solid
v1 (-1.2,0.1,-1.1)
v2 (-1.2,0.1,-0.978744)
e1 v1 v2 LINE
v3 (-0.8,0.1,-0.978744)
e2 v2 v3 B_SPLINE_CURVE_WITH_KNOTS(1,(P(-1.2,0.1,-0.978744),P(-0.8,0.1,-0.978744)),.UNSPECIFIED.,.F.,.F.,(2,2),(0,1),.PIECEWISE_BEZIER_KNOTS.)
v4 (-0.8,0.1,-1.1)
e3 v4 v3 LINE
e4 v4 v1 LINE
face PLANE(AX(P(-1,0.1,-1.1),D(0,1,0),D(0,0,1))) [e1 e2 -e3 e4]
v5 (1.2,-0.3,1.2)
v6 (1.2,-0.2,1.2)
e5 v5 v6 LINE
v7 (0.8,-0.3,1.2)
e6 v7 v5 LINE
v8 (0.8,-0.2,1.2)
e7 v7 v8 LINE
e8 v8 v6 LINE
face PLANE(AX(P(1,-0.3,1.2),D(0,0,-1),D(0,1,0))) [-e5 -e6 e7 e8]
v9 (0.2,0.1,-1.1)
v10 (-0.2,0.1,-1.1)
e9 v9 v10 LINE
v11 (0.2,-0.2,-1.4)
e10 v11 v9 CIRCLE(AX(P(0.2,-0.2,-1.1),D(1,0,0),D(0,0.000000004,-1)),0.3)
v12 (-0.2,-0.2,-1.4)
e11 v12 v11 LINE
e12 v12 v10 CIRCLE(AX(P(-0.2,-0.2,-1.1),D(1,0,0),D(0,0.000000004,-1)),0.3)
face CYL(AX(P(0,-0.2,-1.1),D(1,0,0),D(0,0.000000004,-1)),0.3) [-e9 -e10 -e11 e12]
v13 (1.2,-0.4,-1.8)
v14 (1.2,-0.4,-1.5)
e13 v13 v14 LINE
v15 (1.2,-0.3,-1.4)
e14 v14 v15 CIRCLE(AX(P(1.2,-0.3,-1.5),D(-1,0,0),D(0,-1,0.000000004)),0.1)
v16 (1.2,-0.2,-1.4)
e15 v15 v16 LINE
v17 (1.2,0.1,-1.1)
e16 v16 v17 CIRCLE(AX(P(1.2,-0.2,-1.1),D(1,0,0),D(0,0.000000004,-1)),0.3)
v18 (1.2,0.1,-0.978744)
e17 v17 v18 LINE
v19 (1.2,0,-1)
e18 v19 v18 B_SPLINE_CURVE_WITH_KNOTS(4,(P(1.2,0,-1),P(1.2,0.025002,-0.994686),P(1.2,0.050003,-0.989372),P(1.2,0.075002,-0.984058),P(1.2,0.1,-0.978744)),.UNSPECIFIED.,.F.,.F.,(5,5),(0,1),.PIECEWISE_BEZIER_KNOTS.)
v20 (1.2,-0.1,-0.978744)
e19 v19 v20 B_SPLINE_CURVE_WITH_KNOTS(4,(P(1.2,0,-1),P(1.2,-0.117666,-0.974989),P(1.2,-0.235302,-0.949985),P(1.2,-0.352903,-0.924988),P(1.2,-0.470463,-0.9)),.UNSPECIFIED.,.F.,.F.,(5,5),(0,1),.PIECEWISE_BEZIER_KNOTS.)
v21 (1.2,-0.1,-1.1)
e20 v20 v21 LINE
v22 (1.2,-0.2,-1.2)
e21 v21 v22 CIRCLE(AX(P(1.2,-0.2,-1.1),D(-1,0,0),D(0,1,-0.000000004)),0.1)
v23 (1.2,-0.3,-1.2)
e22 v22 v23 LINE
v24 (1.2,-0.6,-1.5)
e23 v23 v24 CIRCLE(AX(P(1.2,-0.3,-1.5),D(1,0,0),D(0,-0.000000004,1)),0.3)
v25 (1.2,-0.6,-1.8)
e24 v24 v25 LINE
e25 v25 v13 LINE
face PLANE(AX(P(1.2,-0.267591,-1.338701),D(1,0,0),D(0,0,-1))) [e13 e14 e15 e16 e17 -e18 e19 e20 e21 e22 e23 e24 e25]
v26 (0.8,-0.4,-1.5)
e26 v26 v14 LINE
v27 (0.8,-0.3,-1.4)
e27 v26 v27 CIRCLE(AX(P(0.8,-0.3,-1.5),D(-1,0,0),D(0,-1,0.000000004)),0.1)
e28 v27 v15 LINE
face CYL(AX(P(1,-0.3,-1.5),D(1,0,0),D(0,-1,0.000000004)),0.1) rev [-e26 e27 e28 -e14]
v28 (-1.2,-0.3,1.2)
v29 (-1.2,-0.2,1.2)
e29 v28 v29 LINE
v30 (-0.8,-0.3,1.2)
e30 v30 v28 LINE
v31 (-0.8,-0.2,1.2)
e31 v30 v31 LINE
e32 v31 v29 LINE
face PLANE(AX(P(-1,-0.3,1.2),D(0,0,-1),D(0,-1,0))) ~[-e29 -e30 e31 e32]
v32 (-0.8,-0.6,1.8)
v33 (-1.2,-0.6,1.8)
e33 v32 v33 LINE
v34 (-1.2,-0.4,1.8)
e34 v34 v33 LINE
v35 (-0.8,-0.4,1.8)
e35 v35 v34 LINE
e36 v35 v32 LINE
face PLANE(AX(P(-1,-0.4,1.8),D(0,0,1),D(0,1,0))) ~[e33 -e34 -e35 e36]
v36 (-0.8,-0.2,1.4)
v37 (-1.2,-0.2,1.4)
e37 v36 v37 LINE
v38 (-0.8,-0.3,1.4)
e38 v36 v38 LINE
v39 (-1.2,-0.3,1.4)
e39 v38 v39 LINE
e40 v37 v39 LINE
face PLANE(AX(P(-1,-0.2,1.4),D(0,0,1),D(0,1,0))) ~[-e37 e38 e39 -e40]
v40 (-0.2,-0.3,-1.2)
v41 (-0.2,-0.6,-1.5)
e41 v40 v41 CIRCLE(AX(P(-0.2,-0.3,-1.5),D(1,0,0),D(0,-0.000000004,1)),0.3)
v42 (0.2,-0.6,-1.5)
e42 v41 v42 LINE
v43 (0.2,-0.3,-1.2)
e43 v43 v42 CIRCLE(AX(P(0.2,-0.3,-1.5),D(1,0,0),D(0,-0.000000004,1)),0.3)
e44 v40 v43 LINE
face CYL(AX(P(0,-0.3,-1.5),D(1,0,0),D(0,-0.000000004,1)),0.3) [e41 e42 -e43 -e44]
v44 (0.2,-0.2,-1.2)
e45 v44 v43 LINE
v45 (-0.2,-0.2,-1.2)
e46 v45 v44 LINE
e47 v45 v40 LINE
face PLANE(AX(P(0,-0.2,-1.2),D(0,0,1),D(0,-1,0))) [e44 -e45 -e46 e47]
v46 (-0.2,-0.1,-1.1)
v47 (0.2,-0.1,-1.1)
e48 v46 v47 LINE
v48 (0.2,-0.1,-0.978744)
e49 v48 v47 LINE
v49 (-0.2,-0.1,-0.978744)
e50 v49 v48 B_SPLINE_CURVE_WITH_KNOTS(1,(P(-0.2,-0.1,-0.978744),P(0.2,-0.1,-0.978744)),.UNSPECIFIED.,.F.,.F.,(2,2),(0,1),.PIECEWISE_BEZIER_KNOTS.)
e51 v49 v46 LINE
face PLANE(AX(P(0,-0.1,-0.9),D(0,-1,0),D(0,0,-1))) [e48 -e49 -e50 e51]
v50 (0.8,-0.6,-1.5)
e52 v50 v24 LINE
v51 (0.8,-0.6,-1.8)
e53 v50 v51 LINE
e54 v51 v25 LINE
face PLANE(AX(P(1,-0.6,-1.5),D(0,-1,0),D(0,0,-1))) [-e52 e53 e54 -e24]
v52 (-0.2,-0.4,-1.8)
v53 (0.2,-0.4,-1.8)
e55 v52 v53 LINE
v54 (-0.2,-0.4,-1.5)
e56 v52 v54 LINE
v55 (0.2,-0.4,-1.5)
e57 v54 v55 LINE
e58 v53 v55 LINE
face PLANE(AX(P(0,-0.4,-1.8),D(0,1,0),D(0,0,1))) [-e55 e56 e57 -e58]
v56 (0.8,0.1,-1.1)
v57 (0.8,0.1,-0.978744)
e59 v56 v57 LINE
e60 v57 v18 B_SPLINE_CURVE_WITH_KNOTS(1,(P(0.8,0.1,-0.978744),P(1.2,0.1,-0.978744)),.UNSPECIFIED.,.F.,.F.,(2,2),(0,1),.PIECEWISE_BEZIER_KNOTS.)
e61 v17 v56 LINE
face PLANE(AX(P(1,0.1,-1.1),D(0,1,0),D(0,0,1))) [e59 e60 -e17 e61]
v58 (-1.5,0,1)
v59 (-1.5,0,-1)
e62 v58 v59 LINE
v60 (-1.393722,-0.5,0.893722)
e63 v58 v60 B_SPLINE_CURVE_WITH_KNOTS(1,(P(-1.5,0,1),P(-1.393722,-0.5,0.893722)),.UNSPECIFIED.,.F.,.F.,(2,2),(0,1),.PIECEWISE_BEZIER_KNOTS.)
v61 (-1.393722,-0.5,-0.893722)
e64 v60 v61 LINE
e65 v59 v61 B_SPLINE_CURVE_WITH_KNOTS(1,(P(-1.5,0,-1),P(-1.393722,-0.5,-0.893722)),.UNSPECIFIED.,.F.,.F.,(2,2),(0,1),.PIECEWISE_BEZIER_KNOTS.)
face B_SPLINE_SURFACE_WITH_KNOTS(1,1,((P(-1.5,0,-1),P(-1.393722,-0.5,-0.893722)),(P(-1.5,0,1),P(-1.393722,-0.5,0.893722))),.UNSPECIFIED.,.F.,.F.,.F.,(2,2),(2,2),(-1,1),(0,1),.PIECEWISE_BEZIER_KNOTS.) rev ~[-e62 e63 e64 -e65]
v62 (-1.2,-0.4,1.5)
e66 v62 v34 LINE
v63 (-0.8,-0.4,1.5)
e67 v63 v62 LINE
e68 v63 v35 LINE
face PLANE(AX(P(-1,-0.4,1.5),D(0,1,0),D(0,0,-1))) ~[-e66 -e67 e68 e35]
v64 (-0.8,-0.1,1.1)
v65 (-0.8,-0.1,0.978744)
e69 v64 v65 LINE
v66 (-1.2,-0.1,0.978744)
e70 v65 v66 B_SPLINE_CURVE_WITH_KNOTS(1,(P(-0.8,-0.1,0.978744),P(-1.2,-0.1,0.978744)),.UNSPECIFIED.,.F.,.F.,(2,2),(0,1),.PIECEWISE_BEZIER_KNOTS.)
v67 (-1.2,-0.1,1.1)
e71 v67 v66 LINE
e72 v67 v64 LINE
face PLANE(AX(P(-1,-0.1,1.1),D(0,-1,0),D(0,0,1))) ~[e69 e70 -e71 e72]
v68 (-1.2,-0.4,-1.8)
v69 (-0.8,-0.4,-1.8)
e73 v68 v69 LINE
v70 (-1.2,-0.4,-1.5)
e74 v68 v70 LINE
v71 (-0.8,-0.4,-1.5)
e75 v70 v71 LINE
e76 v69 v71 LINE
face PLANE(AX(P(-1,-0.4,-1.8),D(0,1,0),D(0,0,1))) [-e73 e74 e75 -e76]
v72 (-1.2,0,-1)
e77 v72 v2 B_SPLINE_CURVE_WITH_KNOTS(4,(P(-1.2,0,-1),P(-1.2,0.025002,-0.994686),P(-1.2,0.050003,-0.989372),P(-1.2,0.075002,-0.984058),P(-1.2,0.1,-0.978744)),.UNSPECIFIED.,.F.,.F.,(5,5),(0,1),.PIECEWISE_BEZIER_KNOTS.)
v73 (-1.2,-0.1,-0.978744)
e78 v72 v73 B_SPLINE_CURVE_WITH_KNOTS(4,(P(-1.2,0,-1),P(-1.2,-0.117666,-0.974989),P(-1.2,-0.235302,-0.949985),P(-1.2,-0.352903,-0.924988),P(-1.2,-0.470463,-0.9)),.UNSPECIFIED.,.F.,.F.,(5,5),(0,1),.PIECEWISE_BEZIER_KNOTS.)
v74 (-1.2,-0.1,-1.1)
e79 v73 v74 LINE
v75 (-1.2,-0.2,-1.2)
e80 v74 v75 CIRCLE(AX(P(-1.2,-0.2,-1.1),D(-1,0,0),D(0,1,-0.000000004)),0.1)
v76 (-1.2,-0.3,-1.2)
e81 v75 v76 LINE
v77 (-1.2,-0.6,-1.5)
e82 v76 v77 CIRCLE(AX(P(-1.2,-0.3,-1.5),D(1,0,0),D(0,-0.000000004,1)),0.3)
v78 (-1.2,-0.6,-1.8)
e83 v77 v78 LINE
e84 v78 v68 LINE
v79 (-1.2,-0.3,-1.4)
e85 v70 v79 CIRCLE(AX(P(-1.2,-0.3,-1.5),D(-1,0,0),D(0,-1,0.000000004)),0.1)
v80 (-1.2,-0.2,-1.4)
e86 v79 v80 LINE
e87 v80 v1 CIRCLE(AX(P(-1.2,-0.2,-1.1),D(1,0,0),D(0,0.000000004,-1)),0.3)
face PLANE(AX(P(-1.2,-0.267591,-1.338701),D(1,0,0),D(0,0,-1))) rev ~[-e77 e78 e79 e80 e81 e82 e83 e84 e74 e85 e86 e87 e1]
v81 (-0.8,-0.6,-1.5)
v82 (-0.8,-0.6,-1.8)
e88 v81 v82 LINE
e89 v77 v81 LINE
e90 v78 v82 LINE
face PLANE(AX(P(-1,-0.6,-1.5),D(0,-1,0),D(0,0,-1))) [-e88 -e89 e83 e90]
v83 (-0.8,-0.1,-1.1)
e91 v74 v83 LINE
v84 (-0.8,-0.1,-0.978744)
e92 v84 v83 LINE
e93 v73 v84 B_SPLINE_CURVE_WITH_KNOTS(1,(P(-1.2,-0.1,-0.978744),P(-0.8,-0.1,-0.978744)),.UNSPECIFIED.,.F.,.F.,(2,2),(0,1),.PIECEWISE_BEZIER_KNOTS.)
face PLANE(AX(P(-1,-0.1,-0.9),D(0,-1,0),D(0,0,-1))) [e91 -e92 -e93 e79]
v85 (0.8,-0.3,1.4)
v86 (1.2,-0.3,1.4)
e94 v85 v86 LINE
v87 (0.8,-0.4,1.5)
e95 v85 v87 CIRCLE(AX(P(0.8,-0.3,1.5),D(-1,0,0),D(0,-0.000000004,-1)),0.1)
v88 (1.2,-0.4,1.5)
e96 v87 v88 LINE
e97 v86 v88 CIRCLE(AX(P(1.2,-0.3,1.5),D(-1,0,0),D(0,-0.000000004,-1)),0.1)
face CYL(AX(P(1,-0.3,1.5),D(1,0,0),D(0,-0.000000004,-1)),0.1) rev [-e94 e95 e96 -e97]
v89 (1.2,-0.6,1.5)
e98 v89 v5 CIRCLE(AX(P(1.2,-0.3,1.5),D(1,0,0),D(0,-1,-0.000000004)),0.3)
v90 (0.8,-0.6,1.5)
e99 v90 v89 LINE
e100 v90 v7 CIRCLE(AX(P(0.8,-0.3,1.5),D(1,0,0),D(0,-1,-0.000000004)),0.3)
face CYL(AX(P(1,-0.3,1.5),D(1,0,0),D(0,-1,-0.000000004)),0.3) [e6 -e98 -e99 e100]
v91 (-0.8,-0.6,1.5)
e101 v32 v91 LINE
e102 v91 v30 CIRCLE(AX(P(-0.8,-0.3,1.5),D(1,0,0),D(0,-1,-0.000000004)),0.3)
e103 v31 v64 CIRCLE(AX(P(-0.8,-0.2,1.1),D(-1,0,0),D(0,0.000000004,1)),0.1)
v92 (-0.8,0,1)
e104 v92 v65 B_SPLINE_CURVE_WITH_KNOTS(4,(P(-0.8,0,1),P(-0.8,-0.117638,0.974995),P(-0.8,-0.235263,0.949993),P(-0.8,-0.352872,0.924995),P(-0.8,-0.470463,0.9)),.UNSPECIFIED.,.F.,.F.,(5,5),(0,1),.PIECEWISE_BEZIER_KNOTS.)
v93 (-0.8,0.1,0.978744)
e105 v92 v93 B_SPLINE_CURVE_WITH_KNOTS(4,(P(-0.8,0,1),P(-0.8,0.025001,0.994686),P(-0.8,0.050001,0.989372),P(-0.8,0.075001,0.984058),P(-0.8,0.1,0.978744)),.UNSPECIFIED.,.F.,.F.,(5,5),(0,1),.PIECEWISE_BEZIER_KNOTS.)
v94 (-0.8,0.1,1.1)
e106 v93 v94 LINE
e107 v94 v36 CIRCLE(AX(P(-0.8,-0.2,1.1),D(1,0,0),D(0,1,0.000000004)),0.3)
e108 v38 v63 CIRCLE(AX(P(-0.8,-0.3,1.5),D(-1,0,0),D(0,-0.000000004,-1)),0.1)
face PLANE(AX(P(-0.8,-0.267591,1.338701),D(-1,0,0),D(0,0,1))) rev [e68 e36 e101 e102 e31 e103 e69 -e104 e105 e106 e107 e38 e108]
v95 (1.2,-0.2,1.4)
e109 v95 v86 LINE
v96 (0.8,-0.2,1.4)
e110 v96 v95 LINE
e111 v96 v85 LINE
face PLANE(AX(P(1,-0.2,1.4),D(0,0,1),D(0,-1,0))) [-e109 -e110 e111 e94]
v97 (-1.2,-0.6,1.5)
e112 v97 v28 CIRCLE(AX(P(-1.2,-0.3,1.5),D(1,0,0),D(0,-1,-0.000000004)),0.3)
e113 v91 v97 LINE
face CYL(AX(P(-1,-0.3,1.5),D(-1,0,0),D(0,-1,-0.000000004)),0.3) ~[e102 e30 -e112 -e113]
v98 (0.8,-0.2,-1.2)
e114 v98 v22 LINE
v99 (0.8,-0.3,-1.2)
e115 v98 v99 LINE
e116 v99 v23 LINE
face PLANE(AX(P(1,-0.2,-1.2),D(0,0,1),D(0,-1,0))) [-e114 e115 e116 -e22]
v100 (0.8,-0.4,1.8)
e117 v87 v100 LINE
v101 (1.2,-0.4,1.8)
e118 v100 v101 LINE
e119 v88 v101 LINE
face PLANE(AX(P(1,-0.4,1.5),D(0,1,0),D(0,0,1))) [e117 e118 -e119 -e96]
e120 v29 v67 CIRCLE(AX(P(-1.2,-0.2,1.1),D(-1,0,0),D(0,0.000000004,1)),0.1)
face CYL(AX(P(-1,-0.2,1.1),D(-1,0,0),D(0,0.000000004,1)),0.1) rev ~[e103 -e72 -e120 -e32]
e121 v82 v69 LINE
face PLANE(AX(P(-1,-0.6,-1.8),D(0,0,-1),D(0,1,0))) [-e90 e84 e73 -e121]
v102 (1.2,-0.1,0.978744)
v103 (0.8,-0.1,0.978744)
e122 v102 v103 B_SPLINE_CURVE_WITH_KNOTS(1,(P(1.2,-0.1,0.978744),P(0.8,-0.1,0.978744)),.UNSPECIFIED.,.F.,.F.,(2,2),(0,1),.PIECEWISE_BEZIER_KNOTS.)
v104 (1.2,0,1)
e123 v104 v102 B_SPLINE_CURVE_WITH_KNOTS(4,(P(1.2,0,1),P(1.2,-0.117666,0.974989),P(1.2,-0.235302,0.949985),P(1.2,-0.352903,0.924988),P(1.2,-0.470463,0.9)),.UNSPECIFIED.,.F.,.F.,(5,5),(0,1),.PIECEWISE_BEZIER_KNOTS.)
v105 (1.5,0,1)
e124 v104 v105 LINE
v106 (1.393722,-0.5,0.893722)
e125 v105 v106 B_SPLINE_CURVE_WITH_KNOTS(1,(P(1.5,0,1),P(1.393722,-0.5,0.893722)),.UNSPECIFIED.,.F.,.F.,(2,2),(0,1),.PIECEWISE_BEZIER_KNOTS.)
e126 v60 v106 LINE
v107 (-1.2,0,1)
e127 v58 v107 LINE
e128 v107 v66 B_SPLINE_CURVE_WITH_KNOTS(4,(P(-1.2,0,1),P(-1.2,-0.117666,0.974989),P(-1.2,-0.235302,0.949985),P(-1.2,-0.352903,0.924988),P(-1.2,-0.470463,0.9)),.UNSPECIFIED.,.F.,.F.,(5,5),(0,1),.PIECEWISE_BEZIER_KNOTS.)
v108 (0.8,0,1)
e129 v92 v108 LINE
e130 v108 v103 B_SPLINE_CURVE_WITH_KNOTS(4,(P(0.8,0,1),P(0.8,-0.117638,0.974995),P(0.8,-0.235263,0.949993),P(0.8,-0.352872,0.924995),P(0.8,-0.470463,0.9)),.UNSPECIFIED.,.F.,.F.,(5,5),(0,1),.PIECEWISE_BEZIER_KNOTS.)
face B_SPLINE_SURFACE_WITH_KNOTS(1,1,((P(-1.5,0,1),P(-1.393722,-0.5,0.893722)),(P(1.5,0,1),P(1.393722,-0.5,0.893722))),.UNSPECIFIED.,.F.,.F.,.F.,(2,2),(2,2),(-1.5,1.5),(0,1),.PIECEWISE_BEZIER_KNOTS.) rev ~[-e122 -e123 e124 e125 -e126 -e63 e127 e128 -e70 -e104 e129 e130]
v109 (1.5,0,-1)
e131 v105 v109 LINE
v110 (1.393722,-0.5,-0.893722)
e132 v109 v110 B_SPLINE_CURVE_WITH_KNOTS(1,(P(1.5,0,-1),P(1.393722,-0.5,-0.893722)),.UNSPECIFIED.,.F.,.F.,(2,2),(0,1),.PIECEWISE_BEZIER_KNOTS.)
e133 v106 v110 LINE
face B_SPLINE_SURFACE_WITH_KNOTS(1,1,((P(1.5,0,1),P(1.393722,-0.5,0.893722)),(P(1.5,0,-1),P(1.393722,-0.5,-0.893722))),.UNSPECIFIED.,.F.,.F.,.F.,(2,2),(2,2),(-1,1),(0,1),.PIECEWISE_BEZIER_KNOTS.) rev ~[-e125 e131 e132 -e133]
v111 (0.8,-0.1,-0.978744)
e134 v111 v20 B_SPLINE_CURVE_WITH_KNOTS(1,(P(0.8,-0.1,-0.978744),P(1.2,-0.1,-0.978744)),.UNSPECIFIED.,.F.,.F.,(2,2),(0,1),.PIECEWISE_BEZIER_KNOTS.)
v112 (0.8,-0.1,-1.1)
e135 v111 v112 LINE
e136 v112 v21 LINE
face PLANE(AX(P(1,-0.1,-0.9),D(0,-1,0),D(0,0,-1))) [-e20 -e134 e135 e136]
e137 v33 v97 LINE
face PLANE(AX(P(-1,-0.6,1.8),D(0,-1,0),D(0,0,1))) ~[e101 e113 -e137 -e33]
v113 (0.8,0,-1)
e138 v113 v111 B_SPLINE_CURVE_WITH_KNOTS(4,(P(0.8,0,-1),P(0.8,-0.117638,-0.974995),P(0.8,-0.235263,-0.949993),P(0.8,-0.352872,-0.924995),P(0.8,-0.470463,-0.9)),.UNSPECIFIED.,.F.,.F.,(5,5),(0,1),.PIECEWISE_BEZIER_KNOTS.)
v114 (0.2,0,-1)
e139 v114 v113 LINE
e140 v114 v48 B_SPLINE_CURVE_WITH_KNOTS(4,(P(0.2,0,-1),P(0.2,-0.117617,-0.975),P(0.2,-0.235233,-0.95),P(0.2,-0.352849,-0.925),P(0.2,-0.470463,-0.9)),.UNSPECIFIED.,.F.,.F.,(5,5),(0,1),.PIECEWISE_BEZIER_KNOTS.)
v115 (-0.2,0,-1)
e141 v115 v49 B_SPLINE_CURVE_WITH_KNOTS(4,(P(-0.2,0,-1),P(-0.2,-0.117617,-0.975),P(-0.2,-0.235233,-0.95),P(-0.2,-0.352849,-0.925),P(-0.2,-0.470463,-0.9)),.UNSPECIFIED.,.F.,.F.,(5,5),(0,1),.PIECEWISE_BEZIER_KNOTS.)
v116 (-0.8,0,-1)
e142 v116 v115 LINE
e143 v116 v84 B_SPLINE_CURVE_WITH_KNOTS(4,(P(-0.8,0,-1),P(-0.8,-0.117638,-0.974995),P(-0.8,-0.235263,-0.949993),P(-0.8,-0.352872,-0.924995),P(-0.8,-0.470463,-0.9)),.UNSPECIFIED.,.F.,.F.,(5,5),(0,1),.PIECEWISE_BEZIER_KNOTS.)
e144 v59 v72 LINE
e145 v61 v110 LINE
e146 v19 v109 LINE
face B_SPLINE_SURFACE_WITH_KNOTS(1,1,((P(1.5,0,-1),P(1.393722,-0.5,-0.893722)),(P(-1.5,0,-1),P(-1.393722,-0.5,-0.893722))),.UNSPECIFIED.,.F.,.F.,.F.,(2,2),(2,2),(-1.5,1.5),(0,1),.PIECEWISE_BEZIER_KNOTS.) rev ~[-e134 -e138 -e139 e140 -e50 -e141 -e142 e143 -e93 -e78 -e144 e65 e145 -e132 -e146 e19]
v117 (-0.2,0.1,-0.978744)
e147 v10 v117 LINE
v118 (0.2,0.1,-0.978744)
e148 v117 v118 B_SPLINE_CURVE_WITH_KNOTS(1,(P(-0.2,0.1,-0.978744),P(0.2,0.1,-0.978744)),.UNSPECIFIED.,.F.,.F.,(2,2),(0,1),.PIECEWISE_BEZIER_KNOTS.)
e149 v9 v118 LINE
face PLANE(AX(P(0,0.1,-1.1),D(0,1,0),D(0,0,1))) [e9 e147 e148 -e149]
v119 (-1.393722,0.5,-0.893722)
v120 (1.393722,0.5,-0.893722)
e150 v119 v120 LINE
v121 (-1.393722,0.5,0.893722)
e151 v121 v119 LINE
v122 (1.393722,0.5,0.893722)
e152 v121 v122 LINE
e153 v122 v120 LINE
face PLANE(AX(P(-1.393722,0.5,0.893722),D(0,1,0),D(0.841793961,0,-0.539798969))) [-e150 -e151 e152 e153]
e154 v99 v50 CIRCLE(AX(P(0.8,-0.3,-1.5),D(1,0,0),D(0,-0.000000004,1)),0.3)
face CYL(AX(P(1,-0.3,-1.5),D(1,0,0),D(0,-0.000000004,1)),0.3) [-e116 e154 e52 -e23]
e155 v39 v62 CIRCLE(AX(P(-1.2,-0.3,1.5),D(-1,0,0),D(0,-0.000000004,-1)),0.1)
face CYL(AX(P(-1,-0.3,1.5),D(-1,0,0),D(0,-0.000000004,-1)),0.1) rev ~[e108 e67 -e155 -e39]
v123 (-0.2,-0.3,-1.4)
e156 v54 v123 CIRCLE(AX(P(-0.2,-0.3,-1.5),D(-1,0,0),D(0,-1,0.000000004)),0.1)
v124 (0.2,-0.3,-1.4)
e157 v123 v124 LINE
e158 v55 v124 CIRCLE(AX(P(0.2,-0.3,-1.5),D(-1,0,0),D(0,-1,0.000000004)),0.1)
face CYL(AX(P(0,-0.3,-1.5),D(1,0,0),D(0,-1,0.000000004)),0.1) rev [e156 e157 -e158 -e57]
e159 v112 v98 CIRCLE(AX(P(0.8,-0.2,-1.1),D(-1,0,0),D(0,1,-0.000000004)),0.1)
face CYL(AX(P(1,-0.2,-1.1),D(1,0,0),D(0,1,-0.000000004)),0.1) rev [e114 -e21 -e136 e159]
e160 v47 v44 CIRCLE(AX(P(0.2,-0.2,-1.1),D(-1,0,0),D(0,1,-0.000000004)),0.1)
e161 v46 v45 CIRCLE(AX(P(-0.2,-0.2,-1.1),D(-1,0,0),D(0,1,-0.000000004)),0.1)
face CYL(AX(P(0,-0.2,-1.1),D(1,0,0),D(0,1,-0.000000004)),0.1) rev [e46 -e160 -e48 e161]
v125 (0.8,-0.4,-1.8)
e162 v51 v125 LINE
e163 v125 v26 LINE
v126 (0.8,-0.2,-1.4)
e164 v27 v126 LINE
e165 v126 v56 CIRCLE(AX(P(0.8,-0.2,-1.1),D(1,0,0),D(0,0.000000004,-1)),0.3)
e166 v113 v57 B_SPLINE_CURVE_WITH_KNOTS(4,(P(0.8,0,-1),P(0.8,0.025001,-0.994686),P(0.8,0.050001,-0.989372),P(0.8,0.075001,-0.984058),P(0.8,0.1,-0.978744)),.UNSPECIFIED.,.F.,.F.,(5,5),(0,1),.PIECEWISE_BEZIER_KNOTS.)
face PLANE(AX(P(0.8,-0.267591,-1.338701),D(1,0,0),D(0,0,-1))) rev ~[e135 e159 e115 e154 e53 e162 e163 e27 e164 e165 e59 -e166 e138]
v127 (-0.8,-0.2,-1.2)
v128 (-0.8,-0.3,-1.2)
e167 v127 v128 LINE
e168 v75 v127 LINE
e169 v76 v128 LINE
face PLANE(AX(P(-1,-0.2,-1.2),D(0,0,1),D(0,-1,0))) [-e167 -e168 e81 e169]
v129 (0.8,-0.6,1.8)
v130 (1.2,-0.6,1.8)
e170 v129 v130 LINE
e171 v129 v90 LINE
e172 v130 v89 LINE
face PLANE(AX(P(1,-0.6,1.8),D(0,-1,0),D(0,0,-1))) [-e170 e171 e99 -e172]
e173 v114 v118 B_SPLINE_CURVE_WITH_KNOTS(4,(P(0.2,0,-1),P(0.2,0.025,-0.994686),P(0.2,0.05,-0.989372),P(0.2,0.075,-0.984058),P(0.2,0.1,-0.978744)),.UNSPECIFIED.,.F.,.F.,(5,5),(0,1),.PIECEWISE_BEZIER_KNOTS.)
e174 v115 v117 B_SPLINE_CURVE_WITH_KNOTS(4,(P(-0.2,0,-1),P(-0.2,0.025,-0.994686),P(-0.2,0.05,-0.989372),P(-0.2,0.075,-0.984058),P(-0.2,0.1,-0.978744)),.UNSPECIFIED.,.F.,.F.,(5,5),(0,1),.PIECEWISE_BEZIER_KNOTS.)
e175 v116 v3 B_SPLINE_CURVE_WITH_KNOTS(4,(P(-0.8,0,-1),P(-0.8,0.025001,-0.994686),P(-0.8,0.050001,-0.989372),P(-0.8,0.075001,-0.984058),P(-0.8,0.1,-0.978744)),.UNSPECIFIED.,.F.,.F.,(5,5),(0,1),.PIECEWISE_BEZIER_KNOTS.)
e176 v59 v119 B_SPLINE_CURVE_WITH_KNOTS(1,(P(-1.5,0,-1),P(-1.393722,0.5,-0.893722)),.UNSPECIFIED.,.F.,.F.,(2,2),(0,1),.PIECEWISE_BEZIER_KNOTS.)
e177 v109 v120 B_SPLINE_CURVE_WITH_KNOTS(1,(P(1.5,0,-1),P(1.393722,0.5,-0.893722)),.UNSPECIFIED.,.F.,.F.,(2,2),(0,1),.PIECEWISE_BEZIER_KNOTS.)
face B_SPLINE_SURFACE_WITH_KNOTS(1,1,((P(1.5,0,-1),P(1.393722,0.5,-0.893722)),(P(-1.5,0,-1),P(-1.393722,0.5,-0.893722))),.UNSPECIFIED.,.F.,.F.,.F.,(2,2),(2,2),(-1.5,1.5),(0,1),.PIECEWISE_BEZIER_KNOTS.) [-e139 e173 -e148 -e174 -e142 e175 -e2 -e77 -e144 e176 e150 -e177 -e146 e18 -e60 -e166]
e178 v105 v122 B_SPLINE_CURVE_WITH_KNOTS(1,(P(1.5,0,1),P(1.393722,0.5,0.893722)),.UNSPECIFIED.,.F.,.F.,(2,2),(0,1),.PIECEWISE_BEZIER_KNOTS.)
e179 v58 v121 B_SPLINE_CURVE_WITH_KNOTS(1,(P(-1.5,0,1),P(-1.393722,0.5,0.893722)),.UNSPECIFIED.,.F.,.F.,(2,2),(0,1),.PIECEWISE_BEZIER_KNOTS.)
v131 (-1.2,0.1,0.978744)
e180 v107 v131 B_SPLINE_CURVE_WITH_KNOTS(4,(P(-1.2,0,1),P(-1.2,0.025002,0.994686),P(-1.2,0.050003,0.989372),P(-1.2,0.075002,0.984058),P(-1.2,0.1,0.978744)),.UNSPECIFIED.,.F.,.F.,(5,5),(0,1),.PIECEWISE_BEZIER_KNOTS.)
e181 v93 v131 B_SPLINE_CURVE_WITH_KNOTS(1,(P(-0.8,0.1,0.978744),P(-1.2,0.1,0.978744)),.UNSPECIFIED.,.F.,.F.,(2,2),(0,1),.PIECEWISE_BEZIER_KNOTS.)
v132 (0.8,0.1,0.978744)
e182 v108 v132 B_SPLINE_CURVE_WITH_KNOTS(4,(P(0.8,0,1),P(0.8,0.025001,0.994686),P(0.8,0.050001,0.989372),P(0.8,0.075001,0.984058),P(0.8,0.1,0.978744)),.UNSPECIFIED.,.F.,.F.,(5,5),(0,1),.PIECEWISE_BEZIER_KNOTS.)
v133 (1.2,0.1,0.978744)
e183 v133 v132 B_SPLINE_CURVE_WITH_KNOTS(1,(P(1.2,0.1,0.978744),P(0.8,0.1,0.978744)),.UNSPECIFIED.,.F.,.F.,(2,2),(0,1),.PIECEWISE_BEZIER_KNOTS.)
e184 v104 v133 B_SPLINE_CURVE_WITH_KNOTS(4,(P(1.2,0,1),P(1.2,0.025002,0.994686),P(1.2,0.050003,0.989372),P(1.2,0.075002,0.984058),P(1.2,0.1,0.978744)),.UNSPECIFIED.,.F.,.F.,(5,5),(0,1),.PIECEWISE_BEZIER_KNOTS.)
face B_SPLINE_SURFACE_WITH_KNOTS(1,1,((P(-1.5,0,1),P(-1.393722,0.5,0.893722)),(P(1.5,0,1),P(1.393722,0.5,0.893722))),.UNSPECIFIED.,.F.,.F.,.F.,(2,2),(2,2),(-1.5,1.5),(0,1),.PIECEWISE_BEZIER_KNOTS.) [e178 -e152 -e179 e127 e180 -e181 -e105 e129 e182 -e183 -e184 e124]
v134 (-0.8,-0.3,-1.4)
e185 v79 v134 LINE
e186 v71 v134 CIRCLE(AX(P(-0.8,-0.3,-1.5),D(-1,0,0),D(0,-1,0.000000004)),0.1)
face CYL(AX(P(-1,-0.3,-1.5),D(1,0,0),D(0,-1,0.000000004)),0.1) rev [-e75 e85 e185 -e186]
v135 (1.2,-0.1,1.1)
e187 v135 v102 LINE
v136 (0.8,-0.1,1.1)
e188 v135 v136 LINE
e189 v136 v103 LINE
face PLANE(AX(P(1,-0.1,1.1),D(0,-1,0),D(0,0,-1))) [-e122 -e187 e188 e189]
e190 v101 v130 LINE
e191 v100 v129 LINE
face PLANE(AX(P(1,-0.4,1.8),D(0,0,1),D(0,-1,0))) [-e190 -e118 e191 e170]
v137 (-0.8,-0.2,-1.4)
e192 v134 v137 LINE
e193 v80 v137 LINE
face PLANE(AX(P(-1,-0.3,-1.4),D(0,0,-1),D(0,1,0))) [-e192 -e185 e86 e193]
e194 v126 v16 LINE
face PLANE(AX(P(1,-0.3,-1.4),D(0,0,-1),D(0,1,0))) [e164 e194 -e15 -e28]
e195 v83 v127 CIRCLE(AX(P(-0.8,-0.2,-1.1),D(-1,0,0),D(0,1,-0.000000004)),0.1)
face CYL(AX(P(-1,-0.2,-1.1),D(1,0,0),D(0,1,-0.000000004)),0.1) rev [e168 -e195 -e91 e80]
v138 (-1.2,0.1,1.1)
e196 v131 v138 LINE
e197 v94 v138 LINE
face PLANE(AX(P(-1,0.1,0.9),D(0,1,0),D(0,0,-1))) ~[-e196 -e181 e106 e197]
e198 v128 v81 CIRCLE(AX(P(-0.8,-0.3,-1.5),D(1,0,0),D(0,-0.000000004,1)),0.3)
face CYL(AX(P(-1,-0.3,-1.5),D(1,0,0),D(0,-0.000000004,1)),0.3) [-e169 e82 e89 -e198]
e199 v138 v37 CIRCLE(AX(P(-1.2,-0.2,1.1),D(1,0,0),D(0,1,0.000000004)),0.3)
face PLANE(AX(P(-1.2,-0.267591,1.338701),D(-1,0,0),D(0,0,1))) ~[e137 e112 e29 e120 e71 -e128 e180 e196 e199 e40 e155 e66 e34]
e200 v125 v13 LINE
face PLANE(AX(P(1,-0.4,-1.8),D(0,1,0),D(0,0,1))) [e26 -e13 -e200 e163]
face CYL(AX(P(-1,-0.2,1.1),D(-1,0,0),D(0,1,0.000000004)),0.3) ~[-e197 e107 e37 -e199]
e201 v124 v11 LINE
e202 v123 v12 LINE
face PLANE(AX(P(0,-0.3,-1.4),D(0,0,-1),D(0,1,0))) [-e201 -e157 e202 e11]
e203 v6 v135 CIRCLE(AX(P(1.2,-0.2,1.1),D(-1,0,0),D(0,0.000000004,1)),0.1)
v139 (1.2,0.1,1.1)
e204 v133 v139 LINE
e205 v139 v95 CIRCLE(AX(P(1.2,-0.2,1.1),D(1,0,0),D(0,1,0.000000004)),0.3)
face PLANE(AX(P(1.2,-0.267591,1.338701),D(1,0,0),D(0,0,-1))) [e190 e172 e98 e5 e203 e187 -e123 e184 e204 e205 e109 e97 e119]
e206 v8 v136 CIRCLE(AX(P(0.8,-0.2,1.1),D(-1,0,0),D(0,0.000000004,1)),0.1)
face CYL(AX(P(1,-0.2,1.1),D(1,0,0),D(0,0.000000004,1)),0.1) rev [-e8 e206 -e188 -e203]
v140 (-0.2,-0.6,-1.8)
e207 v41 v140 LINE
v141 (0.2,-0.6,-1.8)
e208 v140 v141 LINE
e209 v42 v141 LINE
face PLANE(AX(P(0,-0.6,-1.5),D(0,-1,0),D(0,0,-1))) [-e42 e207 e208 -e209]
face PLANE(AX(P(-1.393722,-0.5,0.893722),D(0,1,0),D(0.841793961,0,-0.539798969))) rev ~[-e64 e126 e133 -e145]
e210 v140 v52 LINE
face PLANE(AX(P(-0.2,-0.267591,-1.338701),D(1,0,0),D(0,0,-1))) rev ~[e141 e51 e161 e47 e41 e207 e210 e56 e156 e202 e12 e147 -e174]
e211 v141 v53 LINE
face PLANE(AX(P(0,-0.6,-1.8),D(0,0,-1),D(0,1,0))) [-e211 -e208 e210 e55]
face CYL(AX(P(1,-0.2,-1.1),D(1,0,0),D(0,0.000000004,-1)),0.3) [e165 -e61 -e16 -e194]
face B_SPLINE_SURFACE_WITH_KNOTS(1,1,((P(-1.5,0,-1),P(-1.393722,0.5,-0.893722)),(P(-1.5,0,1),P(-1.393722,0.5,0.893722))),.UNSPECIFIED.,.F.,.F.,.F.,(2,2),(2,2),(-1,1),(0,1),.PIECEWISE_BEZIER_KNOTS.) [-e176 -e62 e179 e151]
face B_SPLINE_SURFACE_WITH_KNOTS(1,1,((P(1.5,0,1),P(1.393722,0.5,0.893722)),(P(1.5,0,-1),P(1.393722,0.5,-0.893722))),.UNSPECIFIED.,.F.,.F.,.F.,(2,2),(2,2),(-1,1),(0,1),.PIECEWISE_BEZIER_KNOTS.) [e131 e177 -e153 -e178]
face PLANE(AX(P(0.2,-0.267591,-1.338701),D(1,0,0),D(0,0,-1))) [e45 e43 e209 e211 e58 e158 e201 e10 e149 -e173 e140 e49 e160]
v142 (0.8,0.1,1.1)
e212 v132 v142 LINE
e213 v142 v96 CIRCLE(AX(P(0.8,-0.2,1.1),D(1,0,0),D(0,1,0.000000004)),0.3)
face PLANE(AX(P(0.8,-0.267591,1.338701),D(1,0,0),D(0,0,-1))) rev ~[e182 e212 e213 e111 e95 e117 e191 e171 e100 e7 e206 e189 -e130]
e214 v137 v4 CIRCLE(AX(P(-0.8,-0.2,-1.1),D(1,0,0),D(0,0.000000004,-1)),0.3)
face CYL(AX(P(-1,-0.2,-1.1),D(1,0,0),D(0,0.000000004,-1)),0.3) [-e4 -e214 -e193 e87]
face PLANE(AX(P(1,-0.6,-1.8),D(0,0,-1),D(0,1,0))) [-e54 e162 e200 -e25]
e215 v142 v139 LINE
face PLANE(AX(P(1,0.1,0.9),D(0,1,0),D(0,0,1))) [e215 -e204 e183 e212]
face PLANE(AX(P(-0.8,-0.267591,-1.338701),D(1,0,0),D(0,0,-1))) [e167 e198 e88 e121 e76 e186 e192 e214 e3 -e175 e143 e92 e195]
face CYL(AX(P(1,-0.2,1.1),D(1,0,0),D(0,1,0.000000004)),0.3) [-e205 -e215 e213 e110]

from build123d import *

# Parameters (mm, degrees)
BASES_W               = 3
BASES_H               = 2
BASE_DEPTH            = 0.5
BASE_TAPER            = 12
BASE_OTHER_WAY_DEPTH  = 0.5
BASE_OTHER_WAY_TAPER  = 12
VINSOLDERJOINT_DEPTH  = 0.2
SJLP_COUNT            = 2
SJLP_PITCH            = 1
SJLP_COL_COUNT        = 2
SJLP_COL_PITCH        = 1
VOUTSOLDERJOINT_DEPTH = 0.2


with BuildPart() as part:
    # BaseS → Base (new body)
    with BuildSketch(Plane(origin=(0, 0, 0), x_dir=(1, 0, 0), z_dir=(0, 1, 0))):
        Rectangle(BASES_W, BASES_H)
    extrude(amount=BASE_DEPTH, taper=BASE_TAPER)

    # BaseS → Base other way (add)
    with BuildSketch(Plane(origin=(0, 0, 0), x_dir=(1, 0, 0), z_dir=(0, 1, 0))):
        Rectangle(BASES_W, BASES_H)
    extrude(amount=-BASE_OTHER_WAY_DEPTH, taper=BASE_OTHER_WAY_TAPER)

    # VInSolderJointS → VInSolderJoint (add, symmetric)
    with BuildSketch(Plane(origin=(0, 0, 0), x_dir=(0, 0, -1), z_dir=(1, 0, 0))):
        with BuildLine():
            Line((0.9, -0.1), (1.1, -0.1))
            ThreePointArc((1.1, -0.1), (1.170710678, -0.129289322), (1.2, -0.2))
            Line((1.2, -0.2), (1.2, -0.3))
            ThreePointArc((1.2, -0.3), (1.287867966, -0.512132034), (1.5, -0.6))
            Line((1.5, -0.6), (1.8, -0.6))
            Line((1.8, -0.6), (1.8, -0.4))
            Line((1.8, -0.4), (1.5, -0.4))
            ThreePointArc((1.5, -0.4), (1.429289322, -0.370710678), (1.4, -0.3))
            Line((1.4, -0.3), (1.4, -0.2))
            ThreePointArc((1.4, -0.2), (1.312132034, 0.012132034), (1.1, 0.1))
            Line((1.1, 0.1), (0.9, 0.1))
            Line((0.9, 0.1), (0.9, -0.1))
        make_face()
    vinsolderjoint = extrude(amount=VINSOLDERJOINT_DEPTH, both=True)

    # SJLP: VInSolderJoint ×2
    with Locations(*[(i * SJLP_PITCH, 0, 0) for i in range(1, SJLP_COUNT)]):
        add(vinsolderjoint)

    # SJLP col: VInSolderJoint ×2
    with Locations(*[(-i * SJLP_COL_PITCH, 0, 0) for i in range(1, SJLP_COL_COUNT)]):
        add(vinsolderjoint)

    # VOutSolderJointS → VOutSolderJoint (add, symmetric)
    with BuildSketch(Plane(origin=(1, 0, 0), x_dir=(0, 0, -1), z_dir=(1, 0, 0))):
        with BuildLine():
            Line((-0.9, 0.1), (-1.1, 0.1))
            ThreePointArc((-1.1, 0.1), (-1.312132034, 0.012132034), (-1.4, -0.2))
            Line((-1.4, -0.2), (-1.4, -0.3))
            ThreePointArc((-1.4, -0.3), (-1.429289322, -0.370710678), (-1.5, -0.4))
            Line((-1.5, -0.4), (-1.8, -0.4))
            Line((-1.8, -0.4), (-1.8, -0.6))
            Line((-1.8, -0.6), (-1.5, -0.6))
            ThreePointArc((-1.5, -0.6), (-1.287867966, -0.512132034), (-1.2, -0.3))
            Line((-1.2, -0.3), (-1.2, -0.2))
            ThreePointArc((-1.2, -0.2), (-1.170710678, -0.129289322), (-1.1, -0.1))
            Line((-1.1, -0.1), (-0.9, -0.1))
            Line((-0.9, -0.1), (-0.9, 0.1))
        make_face()
    voutsolderjoint = extrude(amount=VOUTSOLDERJOINT_DEPTH, both=True)

    # VOSJ HM: VOutSolderJoint across plane
    add(voutsolderjoint.mirror(Plane(origin=(0, 0, 0), x_dir=(0, 0, 1), z_dir=(1, 0, 0))))


solid = part.part
